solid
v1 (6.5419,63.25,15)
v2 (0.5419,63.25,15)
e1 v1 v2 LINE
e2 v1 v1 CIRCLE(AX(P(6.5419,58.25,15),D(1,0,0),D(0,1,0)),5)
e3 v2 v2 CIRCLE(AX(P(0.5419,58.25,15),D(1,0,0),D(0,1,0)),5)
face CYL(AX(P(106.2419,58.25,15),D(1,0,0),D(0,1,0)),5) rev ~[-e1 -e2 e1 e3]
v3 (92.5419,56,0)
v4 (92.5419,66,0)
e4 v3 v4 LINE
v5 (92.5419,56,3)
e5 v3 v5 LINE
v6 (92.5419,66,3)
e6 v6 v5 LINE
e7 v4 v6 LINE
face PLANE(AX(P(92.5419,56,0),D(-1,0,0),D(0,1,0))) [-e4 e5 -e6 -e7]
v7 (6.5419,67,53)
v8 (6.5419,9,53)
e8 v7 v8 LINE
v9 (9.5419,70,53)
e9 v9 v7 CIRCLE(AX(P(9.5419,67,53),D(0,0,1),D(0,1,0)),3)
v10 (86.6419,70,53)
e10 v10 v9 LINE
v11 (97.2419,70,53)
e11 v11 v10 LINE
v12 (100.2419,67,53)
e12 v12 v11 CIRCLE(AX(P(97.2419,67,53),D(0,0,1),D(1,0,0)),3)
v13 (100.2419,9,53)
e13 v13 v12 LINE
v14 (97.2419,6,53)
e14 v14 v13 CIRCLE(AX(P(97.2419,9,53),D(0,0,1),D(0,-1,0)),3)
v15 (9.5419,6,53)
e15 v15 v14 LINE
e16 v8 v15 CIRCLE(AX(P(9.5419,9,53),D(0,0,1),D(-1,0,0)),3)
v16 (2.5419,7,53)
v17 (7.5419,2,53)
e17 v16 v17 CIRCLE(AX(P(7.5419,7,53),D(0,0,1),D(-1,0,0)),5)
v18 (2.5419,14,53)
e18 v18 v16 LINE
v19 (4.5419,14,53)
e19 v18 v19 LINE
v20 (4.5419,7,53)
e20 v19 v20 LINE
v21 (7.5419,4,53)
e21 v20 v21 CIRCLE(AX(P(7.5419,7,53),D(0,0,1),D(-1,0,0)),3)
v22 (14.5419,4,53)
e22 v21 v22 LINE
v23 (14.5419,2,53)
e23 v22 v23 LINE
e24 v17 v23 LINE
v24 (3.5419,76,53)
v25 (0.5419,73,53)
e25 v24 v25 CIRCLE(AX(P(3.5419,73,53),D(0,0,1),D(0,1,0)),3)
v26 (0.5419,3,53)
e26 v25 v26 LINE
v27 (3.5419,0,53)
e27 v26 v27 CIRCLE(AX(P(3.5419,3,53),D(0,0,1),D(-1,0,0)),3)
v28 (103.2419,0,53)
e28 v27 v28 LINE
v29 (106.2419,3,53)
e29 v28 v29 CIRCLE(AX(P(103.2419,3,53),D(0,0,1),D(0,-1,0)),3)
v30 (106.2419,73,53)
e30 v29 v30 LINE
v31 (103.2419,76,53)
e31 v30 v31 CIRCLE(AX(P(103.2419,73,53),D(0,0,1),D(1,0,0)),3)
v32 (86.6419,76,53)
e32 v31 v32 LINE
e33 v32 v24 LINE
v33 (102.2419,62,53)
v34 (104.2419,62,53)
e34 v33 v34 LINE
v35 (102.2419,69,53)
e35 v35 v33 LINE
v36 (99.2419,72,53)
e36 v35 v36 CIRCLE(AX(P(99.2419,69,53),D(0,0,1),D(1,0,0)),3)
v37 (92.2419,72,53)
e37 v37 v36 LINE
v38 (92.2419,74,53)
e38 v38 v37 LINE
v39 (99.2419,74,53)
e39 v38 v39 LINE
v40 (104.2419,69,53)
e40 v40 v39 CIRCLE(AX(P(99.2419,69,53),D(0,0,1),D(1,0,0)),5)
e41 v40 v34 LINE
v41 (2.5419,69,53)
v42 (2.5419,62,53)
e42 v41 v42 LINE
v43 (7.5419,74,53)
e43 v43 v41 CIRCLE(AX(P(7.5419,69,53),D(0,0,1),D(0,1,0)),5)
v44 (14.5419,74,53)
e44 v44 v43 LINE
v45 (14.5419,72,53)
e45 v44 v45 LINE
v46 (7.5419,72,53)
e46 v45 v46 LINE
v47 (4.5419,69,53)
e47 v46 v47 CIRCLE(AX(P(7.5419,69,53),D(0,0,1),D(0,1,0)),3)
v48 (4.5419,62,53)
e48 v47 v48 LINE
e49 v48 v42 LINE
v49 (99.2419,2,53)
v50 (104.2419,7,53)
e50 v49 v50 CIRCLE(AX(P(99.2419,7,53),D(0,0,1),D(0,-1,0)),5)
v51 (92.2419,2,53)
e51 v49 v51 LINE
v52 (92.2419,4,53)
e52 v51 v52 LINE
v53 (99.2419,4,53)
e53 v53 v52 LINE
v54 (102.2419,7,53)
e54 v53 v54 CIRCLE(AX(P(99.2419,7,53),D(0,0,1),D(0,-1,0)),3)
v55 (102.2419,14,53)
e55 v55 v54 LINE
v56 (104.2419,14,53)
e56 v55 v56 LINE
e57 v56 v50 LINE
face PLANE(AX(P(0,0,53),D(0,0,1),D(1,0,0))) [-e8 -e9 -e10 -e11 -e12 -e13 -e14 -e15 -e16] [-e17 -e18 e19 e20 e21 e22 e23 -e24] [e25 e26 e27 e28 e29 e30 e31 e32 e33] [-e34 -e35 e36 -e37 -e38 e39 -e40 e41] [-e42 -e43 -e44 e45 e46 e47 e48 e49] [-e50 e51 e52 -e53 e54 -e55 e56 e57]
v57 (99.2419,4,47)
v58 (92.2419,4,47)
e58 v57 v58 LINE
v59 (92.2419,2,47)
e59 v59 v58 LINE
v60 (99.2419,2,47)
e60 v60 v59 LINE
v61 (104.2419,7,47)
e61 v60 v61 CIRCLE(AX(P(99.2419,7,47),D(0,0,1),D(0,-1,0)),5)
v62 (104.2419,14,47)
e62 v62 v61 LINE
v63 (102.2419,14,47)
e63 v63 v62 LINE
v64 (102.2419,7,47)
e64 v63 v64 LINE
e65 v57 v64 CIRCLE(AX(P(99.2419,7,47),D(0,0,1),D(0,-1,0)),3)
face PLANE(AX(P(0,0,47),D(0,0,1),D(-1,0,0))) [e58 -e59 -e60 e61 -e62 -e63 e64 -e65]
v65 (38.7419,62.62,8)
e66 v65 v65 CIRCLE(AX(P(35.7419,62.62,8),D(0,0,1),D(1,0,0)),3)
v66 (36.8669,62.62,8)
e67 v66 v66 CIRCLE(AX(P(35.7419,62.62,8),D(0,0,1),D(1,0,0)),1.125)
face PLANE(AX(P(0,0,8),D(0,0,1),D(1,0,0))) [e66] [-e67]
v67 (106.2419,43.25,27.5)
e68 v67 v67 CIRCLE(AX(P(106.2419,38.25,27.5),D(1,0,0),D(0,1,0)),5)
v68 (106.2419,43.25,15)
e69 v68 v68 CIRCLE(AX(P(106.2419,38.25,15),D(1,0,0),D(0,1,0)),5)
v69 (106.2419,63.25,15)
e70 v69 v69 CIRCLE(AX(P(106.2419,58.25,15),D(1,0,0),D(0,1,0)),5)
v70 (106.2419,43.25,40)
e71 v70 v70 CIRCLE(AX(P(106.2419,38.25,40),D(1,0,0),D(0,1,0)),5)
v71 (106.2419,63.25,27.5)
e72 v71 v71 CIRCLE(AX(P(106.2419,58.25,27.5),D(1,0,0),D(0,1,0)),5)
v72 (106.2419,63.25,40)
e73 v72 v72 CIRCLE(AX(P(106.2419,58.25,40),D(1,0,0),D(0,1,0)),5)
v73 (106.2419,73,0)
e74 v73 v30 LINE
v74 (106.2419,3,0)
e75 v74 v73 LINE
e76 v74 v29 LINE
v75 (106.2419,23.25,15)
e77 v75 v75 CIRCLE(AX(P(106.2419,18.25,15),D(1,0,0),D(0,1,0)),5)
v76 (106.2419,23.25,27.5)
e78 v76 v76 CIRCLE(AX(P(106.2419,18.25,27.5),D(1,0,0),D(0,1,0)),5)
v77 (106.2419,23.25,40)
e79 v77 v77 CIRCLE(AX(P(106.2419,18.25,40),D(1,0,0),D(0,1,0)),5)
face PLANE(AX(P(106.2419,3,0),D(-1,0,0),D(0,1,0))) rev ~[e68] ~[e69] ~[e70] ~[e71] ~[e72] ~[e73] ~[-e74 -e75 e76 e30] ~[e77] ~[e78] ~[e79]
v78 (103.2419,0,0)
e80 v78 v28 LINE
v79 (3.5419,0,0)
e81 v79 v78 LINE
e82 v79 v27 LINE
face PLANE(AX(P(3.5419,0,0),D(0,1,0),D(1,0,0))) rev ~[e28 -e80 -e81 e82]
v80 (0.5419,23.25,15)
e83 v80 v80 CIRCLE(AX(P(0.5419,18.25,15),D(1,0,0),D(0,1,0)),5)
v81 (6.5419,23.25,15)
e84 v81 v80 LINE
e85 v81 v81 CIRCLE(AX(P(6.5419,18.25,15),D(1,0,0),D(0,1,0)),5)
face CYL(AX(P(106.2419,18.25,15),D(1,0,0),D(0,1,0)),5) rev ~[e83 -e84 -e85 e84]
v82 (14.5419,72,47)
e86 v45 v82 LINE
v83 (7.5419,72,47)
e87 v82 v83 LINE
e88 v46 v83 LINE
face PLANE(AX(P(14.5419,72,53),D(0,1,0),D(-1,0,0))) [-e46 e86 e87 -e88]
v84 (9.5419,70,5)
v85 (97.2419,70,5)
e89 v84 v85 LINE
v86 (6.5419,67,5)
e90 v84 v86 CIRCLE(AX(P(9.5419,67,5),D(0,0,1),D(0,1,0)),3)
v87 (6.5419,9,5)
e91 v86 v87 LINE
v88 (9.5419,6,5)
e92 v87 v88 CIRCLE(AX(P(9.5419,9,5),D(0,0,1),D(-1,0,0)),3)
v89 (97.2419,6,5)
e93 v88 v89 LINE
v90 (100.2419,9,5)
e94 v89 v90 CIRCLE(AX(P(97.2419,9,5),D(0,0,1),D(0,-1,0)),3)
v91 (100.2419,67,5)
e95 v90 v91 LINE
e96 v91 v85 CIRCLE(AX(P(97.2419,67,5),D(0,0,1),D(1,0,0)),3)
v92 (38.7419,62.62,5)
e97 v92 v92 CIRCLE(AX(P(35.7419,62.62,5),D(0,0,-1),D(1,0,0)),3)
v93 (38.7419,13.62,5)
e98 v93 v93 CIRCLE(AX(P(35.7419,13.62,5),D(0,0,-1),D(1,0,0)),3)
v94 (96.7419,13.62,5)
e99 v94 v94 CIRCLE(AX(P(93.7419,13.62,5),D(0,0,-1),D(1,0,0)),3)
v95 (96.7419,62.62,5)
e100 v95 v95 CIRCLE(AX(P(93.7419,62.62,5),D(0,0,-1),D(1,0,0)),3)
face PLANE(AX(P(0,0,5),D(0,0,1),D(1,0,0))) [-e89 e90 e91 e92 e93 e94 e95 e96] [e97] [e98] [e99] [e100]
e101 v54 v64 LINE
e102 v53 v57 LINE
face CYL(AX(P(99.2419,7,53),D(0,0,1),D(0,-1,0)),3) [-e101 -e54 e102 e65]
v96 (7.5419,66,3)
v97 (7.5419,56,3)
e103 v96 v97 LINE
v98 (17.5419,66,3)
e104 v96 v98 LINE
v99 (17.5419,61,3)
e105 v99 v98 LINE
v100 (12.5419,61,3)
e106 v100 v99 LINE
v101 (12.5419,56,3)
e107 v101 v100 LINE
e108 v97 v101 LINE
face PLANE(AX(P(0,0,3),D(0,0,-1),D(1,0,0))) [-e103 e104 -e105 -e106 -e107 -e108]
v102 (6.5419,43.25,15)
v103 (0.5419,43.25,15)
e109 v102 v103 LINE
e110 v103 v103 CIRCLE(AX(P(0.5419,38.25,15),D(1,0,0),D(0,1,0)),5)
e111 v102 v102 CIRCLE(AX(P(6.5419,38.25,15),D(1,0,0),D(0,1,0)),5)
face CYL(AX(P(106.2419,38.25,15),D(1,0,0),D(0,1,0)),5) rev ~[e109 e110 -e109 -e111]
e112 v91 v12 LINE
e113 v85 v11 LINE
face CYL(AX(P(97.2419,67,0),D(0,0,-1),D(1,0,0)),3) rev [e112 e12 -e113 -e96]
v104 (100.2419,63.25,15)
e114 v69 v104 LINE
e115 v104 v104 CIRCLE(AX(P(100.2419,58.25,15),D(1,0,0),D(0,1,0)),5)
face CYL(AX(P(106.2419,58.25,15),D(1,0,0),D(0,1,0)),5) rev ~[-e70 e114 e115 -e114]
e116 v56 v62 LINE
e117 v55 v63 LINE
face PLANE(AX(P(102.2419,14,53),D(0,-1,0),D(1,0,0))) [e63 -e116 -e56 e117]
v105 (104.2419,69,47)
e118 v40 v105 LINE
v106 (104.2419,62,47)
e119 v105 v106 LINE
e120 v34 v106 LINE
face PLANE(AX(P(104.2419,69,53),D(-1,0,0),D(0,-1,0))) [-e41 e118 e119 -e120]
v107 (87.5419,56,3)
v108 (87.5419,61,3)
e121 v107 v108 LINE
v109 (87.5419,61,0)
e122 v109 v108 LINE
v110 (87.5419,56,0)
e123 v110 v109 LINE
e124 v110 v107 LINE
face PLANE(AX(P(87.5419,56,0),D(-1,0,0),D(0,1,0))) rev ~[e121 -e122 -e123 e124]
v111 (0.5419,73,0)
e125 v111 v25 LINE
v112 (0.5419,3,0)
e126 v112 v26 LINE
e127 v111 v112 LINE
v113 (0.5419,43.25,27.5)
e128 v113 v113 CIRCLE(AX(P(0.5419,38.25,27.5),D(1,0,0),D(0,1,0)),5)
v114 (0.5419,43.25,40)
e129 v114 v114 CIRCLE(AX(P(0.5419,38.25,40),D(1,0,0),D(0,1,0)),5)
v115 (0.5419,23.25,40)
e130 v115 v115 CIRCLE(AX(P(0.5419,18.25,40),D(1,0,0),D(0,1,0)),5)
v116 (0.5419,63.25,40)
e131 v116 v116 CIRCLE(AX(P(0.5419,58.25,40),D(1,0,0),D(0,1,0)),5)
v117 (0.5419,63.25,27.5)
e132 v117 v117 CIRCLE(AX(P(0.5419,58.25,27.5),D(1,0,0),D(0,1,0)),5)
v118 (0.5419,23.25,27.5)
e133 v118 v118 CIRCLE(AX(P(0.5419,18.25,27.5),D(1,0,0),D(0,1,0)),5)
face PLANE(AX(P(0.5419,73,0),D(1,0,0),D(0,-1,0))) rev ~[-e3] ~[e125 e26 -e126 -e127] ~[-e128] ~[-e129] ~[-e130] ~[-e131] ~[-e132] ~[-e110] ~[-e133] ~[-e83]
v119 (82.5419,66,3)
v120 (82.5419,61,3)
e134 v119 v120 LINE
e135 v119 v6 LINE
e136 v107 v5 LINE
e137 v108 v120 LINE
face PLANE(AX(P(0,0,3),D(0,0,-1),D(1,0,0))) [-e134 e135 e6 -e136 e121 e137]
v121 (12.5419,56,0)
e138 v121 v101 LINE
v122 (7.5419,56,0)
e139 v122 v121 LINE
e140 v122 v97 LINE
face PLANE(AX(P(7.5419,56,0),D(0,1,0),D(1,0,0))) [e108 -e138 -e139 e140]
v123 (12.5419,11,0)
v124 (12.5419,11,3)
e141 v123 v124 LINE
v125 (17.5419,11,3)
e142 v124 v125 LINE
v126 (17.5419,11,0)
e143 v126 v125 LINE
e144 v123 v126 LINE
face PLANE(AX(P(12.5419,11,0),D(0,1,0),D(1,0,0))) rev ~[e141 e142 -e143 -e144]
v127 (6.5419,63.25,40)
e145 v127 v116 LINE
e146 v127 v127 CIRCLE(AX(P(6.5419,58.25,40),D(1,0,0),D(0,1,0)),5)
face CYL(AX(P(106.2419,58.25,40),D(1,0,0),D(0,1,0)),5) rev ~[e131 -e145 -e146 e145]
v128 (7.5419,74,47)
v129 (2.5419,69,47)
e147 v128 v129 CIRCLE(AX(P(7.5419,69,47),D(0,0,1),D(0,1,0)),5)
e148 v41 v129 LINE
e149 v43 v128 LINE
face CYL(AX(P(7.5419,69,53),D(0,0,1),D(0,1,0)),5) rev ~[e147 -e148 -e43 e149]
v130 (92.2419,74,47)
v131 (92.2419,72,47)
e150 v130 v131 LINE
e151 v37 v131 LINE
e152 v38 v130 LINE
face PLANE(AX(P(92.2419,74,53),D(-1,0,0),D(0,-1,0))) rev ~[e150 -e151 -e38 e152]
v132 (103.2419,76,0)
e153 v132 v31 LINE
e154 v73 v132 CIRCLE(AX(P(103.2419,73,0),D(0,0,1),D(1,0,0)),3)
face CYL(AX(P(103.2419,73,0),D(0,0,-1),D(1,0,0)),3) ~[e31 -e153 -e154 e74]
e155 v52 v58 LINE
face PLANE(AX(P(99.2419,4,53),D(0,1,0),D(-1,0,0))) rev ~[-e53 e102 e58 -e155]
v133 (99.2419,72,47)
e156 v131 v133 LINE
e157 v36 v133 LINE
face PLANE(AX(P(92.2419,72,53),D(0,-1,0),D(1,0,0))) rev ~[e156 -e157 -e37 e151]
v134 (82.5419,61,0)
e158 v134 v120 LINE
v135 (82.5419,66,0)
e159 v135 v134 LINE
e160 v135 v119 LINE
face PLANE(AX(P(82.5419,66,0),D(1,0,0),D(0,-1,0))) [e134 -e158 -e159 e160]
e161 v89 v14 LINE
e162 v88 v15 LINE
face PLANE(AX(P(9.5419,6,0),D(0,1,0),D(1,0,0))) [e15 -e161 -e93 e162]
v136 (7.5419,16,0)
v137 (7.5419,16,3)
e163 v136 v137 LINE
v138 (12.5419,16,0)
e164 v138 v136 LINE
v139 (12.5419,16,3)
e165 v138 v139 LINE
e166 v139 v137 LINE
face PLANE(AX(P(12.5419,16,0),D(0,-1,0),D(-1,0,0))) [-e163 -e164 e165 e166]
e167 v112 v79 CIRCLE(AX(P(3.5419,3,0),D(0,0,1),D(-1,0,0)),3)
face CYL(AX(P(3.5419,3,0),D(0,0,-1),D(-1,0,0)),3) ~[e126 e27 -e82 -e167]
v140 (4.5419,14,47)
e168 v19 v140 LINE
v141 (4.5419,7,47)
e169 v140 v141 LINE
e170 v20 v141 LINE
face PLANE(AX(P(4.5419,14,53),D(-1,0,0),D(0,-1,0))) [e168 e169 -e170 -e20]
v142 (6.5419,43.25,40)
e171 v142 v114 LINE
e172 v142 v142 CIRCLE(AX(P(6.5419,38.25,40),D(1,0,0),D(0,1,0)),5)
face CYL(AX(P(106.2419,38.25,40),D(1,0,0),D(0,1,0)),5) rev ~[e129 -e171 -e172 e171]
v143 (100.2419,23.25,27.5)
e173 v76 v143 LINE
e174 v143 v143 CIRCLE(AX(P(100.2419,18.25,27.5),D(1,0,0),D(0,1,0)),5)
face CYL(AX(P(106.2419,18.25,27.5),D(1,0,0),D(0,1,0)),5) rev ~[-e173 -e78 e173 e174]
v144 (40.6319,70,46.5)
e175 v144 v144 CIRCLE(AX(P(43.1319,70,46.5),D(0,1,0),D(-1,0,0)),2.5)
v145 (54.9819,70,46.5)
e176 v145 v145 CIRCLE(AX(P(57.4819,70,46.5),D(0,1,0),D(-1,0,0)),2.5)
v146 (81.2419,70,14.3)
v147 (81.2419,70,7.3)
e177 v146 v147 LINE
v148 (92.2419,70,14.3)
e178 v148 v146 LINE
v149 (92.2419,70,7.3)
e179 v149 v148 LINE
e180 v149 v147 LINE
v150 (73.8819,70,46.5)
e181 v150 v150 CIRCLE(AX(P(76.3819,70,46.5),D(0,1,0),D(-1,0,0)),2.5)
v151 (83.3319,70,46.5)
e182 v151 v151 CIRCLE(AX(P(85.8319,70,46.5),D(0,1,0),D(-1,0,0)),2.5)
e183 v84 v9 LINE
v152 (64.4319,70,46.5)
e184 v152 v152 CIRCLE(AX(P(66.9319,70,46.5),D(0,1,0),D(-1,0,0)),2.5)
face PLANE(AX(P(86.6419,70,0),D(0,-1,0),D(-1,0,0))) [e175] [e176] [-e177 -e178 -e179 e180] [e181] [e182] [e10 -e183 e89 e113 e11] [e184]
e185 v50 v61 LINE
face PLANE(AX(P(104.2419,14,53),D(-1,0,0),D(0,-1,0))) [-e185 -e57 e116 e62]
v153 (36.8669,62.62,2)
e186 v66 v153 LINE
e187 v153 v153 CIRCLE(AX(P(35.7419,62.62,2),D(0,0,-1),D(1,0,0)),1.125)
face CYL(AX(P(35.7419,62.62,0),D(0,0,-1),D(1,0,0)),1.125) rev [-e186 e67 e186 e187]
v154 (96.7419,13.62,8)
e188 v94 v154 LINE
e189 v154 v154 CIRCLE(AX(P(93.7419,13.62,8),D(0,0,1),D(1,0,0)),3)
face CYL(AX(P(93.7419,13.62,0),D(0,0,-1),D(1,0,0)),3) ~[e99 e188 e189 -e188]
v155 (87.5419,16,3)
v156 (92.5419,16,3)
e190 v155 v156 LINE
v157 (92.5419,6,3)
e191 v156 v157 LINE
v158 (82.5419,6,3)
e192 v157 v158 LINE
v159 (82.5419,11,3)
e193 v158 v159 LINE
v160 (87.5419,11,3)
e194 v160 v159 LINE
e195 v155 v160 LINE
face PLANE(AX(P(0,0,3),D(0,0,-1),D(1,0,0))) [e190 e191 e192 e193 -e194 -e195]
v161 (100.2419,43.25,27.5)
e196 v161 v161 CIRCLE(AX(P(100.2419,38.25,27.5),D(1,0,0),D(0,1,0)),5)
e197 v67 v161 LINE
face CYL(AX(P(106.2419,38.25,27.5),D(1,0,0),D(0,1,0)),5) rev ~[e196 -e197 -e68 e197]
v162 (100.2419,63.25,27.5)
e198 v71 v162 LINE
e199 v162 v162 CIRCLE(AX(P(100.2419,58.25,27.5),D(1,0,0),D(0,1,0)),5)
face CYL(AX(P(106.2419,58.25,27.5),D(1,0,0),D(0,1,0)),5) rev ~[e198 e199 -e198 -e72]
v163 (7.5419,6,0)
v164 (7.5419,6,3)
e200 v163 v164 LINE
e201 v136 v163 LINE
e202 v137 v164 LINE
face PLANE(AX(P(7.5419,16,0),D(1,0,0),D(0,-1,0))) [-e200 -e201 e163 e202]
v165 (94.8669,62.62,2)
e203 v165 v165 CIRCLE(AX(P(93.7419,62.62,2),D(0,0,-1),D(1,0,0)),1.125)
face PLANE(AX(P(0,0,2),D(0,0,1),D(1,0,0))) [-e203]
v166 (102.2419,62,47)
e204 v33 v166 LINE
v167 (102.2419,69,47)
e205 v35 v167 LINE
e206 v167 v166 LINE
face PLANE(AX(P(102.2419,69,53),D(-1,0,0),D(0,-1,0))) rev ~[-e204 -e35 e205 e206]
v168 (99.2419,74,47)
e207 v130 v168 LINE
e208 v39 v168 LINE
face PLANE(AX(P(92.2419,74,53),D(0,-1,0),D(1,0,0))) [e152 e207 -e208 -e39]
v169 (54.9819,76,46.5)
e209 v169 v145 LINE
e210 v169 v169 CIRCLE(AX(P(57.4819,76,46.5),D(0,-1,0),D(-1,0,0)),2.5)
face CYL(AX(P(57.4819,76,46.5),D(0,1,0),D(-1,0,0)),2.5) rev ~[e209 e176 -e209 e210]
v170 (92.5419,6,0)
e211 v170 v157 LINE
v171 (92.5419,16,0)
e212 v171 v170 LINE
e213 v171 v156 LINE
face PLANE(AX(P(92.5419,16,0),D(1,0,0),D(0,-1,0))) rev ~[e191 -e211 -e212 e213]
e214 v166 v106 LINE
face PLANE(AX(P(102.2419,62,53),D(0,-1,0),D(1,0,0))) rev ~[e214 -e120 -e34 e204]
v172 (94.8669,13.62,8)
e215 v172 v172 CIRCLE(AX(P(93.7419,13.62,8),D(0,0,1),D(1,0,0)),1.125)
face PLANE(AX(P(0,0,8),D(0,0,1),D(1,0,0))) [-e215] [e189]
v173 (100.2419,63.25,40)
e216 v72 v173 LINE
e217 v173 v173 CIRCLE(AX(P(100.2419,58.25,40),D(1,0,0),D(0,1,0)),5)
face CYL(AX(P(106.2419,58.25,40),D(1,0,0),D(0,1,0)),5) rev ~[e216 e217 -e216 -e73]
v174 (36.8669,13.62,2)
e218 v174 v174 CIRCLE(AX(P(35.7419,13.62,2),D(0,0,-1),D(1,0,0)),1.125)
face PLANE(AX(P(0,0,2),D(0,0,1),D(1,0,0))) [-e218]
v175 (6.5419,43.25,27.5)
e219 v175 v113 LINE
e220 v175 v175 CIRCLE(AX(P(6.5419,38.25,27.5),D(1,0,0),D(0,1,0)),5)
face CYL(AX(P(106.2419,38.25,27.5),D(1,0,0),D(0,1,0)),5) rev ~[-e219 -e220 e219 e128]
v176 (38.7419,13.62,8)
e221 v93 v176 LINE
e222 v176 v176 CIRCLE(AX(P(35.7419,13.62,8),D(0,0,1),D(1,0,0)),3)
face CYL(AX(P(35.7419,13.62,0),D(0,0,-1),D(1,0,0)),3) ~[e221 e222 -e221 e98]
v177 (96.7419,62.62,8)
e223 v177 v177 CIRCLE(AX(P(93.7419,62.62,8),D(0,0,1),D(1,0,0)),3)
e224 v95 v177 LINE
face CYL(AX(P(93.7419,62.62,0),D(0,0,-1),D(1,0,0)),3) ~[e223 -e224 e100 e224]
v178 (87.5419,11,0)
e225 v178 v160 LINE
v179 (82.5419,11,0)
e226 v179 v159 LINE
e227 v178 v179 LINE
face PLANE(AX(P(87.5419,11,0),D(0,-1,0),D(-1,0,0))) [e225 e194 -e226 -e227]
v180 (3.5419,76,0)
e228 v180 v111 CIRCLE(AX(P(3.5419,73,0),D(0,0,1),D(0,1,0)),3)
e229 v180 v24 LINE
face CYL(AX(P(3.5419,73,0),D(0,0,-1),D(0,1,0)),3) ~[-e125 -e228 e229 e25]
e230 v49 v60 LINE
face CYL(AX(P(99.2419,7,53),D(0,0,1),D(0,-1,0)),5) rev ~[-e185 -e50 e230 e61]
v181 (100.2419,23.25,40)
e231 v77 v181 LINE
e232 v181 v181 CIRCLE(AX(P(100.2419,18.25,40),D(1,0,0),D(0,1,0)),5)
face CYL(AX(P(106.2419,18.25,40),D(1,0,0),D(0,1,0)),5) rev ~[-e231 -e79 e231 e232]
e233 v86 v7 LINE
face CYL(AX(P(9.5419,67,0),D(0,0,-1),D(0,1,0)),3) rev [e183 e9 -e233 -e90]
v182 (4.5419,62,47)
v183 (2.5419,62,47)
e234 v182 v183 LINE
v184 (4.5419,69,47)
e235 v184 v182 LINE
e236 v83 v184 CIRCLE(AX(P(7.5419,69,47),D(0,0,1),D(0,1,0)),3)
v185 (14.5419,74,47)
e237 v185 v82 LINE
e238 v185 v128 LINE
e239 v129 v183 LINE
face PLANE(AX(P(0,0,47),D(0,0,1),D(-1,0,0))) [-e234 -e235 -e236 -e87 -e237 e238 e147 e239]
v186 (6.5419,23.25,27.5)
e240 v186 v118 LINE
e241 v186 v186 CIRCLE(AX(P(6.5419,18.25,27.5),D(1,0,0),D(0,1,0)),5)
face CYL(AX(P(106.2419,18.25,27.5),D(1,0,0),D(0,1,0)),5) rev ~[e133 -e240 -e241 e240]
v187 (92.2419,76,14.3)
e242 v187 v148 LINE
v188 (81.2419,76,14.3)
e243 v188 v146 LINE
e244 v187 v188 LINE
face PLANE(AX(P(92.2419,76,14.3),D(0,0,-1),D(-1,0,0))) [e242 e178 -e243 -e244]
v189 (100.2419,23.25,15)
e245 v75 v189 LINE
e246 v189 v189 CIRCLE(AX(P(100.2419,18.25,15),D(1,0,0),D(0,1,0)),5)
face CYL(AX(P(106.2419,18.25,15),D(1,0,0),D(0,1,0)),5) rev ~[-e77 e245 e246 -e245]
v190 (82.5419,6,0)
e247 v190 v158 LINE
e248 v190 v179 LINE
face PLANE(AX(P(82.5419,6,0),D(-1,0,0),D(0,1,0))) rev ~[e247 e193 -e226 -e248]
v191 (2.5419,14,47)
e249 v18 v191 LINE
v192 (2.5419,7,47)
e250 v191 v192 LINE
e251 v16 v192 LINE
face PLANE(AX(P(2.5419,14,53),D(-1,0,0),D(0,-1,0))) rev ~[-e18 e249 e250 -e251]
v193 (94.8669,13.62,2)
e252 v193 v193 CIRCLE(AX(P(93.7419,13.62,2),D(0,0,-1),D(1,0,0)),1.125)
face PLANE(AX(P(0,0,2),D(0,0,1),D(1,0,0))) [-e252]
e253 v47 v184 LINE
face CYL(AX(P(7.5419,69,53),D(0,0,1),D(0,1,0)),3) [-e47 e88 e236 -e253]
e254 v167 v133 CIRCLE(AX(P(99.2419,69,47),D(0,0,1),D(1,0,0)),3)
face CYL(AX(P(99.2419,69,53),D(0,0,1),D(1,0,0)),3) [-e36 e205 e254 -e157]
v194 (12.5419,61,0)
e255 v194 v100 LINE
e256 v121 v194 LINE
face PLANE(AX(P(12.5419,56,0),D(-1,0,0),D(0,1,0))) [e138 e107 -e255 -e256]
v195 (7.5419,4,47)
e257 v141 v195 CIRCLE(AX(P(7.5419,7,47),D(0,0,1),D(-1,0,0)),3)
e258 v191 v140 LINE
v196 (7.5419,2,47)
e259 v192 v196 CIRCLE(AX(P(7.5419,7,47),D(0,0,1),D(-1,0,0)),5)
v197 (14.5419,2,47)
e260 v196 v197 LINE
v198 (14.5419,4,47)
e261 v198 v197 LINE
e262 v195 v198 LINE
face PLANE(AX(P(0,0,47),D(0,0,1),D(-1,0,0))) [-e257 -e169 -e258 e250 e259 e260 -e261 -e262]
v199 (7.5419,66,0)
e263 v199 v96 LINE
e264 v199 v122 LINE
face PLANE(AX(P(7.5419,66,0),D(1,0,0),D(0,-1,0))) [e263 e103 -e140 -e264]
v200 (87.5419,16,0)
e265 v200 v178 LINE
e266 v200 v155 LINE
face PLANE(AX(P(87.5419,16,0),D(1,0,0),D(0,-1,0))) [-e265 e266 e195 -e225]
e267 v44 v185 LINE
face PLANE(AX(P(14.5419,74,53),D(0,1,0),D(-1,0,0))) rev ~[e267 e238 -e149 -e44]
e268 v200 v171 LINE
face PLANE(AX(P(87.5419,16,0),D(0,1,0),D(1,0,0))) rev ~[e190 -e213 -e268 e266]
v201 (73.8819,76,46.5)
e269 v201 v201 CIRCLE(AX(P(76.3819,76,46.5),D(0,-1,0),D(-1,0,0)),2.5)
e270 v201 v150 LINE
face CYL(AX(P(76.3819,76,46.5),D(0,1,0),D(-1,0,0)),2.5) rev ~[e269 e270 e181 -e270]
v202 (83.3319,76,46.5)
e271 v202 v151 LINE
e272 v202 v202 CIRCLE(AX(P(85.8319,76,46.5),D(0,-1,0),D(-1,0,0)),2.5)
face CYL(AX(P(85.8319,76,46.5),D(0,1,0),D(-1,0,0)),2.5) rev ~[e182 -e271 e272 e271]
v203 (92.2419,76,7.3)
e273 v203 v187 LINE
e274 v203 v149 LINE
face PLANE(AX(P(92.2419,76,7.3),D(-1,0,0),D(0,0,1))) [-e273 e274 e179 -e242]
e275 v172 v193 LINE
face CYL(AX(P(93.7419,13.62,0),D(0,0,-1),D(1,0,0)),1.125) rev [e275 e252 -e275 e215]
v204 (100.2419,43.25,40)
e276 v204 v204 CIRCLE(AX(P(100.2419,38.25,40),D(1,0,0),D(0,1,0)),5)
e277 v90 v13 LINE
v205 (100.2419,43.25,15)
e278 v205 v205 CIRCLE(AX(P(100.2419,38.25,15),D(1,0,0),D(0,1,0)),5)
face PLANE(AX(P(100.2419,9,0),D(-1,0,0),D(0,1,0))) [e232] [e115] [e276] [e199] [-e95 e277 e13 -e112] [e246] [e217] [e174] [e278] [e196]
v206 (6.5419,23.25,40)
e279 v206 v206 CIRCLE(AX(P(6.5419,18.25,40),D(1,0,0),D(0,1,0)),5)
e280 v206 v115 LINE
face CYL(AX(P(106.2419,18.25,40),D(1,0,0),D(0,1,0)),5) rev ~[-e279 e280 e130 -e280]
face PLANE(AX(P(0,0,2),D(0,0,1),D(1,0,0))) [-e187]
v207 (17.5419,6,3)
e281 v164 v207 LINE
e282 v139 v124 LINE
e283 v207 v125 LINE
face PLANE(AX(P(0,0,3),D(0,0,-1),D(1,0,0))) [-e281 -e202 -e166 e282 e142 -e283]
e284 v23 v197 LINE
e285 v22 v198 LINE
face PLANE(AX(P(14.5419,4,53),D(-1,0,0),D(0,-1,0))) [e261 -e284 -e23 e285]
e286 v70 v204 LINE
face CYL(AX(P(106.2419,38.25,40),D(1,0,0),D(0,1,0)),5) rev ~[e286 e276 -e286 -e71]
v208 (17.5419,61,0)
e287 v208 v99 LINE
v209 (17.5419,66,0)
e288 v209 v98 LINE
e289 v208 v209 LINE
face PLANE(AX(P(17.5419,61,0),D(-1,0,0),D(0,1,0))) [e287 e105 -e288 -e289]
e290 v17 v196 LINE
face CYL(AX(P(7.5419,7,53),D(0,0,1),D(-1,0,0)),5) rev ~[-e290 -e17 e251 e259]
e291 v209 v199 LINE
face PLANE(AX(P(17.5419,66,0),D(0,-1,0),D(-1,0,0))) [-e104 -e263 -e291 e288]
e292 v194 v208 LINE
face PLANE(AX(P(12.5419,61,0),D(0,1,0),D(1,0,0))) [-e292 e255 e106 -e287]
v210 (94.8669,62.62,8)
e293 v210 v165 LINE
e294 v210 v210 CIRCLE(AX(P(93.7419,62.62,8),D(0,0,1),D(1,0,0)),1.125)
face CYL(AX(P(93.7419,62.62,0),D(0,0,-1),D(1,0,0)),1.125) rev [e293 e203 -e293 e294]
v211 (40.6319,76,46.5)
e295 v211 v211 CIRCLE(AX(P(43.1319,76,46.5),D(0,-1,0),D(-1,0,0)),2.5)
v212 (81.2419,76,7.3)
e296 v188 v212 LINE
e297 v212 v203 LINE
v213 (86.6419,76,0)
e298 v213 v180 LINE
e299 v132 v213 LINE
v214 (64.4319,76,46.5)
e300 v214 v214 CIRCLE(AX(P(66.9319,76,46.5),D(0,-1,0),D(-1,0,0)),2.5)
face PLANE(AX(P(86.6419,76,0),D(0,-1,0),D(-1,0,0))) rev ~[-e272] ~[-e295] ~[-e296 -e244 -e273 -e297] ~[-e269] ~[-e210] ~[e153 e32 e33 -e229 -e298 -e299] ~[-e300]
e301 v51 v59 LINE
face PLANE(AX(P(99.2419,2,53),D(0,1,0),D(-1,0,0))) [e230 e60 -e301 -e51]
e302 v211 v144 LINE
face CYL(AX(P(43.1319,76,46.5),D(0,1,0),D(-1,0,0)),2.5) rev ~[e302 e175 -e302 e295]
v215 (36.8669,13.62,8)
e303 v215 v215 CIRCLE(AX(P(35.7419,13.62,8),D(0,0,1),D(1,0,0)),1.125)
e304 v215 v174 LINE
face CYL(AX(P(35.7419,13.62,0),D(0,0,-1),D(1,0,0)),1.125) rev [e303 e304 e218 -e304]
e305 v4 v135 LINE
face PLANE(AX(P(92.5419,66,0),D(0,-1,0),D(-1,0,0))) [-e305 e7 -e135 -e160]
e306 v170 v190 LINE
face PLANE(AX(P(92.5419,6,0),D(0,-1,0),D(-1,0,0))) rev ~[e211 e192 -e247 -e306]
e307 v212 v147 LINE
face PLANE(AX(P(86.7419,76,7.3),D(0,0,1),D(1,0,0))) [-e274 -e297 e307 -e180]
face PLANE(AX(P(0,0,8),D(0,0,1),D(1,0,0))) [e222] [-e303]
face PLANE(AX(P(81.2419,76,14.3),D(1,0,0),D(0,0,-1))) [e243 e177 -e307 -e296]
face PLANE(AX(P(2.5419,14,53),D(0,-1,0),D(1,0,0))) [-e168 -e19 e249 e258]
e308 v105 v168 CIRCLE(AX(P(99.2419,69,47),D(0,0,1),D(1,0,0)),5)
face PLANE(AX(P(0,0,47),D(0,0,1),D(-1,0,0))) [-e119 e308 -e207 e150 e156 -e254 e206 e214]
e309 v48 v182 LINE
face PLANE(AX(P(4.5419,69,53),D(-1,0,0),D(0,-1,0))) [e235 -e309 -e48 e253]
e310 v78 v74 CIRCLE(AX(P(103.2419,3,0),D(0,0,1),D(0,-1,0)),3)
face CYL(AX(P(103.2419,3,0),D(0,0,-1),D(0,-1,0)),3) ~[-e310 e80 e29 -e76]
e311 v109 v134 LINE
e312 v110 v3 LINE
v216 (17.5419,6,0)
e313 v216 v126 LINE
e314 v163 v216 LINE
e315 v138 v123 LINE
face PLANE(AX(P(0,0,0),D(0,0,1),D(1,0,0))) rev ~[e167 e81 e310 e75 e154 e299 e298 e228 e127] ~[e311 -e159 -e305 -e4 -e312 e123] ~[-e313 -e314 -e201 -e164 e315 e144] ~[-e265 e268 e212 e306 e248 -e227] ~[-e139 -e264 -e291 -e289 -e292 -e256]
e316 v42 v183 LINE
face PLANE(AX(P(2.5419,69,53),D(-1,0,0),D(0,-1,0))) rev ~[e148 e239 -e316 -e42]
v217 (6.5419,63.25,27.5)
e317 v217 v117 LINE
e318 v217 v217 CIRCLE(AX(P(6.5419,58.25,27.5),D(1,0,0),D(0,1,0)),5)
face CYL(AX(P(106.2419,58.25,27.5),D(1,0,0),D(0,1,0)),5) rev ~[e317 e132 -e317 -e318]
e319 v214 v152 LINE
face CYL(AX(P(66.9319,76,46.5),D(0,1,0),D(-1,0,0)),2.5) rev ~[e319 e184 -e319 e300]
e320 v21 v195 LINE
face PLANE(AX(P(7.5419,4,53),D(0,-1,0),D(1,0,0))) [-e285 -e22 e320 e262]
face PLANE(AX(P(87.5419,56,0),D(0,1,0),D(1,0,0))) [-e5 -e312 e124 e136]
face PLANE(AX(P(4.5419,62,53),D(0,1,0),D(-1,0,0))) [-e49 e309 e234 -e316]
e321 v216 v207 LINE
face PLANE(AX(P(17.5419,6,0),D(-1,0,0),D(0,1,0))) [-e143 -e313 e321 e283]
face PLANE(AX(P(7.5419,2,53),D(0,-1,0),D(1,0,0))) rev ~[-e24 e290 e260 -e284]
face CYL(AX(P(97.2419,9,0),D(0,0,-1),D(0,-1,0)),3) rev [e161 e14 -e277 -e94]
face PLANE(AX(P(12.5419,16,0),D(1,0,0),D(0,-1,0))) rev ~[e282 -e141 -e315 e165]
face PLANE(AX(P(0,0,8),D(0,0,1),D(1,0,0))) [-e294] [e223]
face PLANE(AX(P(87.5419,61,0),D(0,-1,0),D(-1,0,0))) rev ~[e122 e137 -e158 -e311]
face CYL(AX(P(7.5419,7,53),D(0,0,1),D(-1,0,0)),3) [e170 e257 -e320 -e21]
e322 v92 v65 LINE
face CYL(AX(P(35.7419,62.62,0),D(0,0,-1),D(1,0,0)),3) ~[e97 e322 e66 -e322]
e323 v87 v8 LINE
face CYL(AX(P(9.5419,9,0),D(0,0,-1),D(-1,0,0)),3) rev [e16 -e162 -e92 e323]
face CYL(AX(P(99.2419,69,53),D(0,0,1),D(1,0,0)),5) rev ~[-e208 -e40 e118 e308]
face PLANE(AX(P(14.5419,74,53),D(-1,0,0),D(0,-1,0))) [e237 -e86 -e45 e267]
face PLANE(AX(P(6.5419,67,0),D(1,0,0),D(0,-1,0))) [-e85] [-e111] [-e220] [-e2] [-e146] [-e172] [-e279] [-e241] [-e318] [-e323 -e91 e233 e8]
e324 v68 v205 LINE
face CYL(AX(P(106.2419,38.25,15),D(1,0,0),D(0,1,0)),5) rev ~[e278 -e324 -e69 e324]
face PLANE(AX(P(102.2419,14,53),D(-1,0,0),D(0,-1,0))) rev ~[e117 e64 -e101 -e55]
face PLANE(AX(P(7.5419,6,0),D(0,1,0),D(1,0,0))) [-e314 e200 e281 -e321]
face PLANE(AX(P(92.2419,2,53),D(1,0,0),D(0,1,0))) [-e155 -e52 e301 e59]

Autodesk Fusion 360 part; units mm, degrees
sketch "Esquisse1" plane through (0, 0, 0) normal (0, 0, 1) x (1, 0, 0)
  line L0 (3.5419, 0) -> (103.2419, 0)
  line L1 (106.2419, 3) -> (106.2419, 73)
  line L2 (0.5419, 73) -> (0.5419, 3)
  line L3 (9.5419, 6) -> (97.2419, 6)
  line L4 (100.2419, 9) -> (100.2419, 67)
  line L5 (97.2419, 70) -> (9.5419, 70)
  line L6 (6.5419, 67) -> (6.5419, 9)
  arc A0 (100.2419, 67) -> (97.2419, 70) centre (97.2419, 67) ccw
  arc A1 (97.2419, 6) -> (100.2419, 9) centre (97.2419, 9) ccw
  arc A2 (6.5419, 9) -> (9.5419, 6) centre (9.5419, 9) ccw
  arc A3 (9.5419, 70) -> (6.5419, 67) centre (9.5419, 67) ccw
  circle A4 centre (93.7419, 62.62) radius 3
  circle A5 centre (93.7419, 62.62) radius 1.125
  circle A6 centre (93.7419, 13.62) radius 3
  circle A7 centre (93.7419, 13.62) radius 1.125
  circle A8 centre (35.7419, 13.62) radius 1.125
  circle A9 centre (35.7419, 13.62) radius 3
  circle A10 centre (35.7419, 62.62) radius 3
  circle A11 centre (35.7419, 62.62) radius 1.125
  line L7 (103.2419, 76) -> (3.5419, 76)
  arc A12 (106.2419, 73) -> (103.2419, 76) centre (103.2419, 73) ccw
  arc A13 (3.5419, 76) -> (0.5419, 73) centre (3.5419, 73) ccw
  arc A14 (0.5419, 3) -> (3.5419, 0) centre (3.5419, 3) ccw
  arc A15 (103.2419, 0) -> (106.2419, 3) centre (103.2419, 3) ccw
  line L8 (86.6419, 76) -> (86.6419, 70)
  point P0 (6.5419, 6)
  point P1 (100.2419, 6)
  point P2 (6.5419, 70)
  dimension "d5" = 6
  dimension "d6" = 6
  dimension "d7" = 3
  dimension "d8" = 3
  dimension "d9" = 3
  dimension "d10" = 3
  dimension "d34" = 6
  dimension "d37" = 2.25
  dimension "d38" = 6
  dimension "d39" = 2.25
  dimension "d40" = 6
  dimension "d41" = 2.25
  dimension "d42" = 58
  dimension "d47" = 6
  dimension "d48" = 2.25
  dimension "d52" = 6
  dimension "d77" = 64
  dimension "d80" = 6
  dimension "d85" = 7.62
  dimension "d86" = 6.5
  dimension "d88" = 7.62
  dimension "d89" = 58
  dimension "d90" = 49
  dimension "d93" = 6.5
  dimension "d94" = 49
  dimension "d101" = 3
  dimension "d102" = 3
  dimension "d103" = 3
  dimension "d104" = 3
  dimension "d105" = 7.1
  dimension "d178" = 76
  dimension "d179" = 105.7
  dimension "d223" = 29.2
  dimension "d260" = 7.38
  dimension "d263" = 13.38
extrude "Extrusion1" add sketch "Esquisse1" along normal blind 5 contours L3 L4 L5 L6 A0 A1 A2 A3 | A4 | A5 | A6 | A7 | A8 | A9 | A10 | A11
extrude "Extrusion2" add sketch "Esquisse1" along normal blind 8 contours A4 | A6 | A9 | A10
extrude "Extrusion3" add sketch "Esquisse1" along normal blind 53 contours L0 L1 L2 L7 A12 A13 A14 A15
sketch "Esquisse4" plane through (0, 76, 0) normal (0, 1, 0) x (-1, 0, 0)
  line L0 (-103.2419, 0) -> (-3.5419, 0)
  line L1 (-3.5419, 0) -> (-3.5419, 53)
  line L2 (-3.5419, 53) -> (-103.2419, 53)
  line L3 (-103.2419, 53) -> (-103.2419, 0)
  line L4 (-86.7419, 0) -> (-86.7419, 10.8)
  line L5 (-81.2419, 7.3) -> (-92.2419, 7.3)
  line L6 (-92.2419, 7.3) -> (-92.2419, 14.3)
  line L7 (-92.2419, 14.3) -> (-81.2419, 14.3)
  line L8 (-81.2419, 14.3) -> (-81.2419, 7.3)
  line L9 (-81.2419, 7.3) -> (-92.2419, 14.3) construction
  line L10 (-92.2419, 7.3) -> (-81.2419, 14.3) construction
  line L11 (-91.1319, 49) -> (-39.1319, 49)
  line L12 (-39.1319, 49) -> (-39.1319, 44)
  line L13 (-39.1319, 44) -> (-91.1319, 44)
  line L14 (-91.1319, 44) -> (-91.1319, 49)
  line L15 (-106.2419, 0) -> (-106.2419, 53)
  line L16 (-83.3319, 44) -> (-88.3319, 44)
  line L17 (-88.3319, 44) -> (-88.3319, 49)
  line L18 (-88.3319, 49) -> (-83.3319, 49)
  line L19 (-83.3319, 49) -> (-83.3319, 44)
  line L20 (-83.3319, 44) -> (-88.3319, 49) construction
  line L21 (-88.3319, 44) -> (-83.3319, 49) construction
  line L22 (-73.8819, 44) -> (-78.8819, 44)
  line L23 (-78.8819, 44) -> (-78.8819, 49)
  line L24 (-78.8819, 49) -> (-73.8819, 49)
  line L25 (-73.8819, 49) -> (-73.8819, 44)
  line L26 (-73.8819, 44) -> (-78.8819, 49) construction
  line L27 (-78.8819, 44) -> (-73.8819, 49) construction
  line L28 (-64.4319, 44) -> (-69.4319, 44)
  line L29 (-69.4319, 44) -> (-69.4319, 49)
  line L30 (-69.4319, 49) -> (-64.4319, 49)
  line L31 (-64.4319, 49) -> (-64.4319, 44)
  line L32 (-64.4319, 44) -> (-69.4319, 49) construction
  line L33 (-69.4319, 44) -> (-64.4319, 49) construction
  line L34 (-54.9819, 44) -> (-59.9819, 44)
  line L35 (-59.9819, 44) -> (-59.9819, 49)
  line L36 (-59.9819, 49) -> (-54.9819, 49)
  line L37 (-54.9819, 49) -> (-54.9819, 44)
  line L38 (-54.9819, 44) -> (-59.9819, 49) construction
  line L39 (-59.9819, 44) -> (-54.9819, 49) construction
  line L40 (-40.6319, 44) -> (-45.6319, 44)
  line L41 (-45.6319, 44) -> (-45.6319, 49)
  line L42 (-45.6319, 49) -> (-40.6319, 49)
  line L43 (-40.6319, 49) -> (-40.6319, 44)
  line L44 (-40.6319, 44) -> (-45.6319, 49) construction
  line L45 (-45.6319, 44) -> (-40.6319, 49) construction
  circle A0 centre (-85.8319, 46.5) radius 2.5
  circle A1 centre (-76.3819, 46.5) radius 2.5
  circle A2 centre (-66.9319, 46.5) radius 2.5
  circle A3 centre (-57.4819, 46.5) radius 2.5
  circle A4 centre (-43.1319, 46.5) radius 2.5
  point P0 (-86.7419, 10.8)
  point P1 (-85.8319, 46.5)
  point P2 (-76.3819, 46.5)
  point P3 (-66.9319, 46.5)
  point P4 (-57.4819, 46.5)
  point P5 (-43.1319, 46.5)
  dimension "d106" = 16.5
  dimension "d107" = 10.8
  dimension "d108" = 11
  dimension "d109" = 7
  dimension "d188" = 5
  dimension "d189" = 15.11
  dimension "d190" = 52
  dimension "d225" = 5
  dimension "d226" = 5
  dimension "d227" = 5
  dimension "d228" = 5
  dimension "d229" = 5.3
  dimension "d230" = 14.75
  dimension "d231" = 5
  dimension "d232" = 5
  dimension "d233" = 5
  dimension "d234" = 5
  dimension "d235" = 24.2
  dimension "d236" = 33.65
  dimension "d237" = 5
  dimension "d238" = 5
  dimension "d239" = 48
  dimension "d264" = 4
  dimension "d265" = 4.45
  dimension "d266" = 4.45
  dimension "d267" = 4.45
extrude "Extrusion8" cut sketch "Esquisse4" against normal blind 6 contours L5 L6 L7 L8
sketch "Esquisse5" plane through (0, 0, 0) normal (0, 0, -1) x (1, 0, 0)
  arc A0 (106.2419, -3) -> (103.2419, 0) centre (103.2419, -3) ccw
  line L0 (103.2419, 0) -> (3.5419, 0)
  arc A1 (3.5419, 0) -> (0.5419, -3) centre (3.5419, -3) ccw
  line L1 (0.5419, -3) -> (0.5419, -73)
  arc A2 (0.5419, -73) -> (3.5419, -76) centre (3.5419, -73) ccw
  line L2 (3.5419, -76) -> (103.2419, -76)
  arc A3 (103.2419, -76) -> (106.2419, -73) centre (103.2419, -73) ccw
  line L3 (106.2419, -73) -> (106.2419, -3)
  line L4 (7.5419, -6) -> (17.5419, -6)
  line L5 (17.5419, -6) -> (17.5419, -16)
  line L6 (17.5419, -16) -> (7.5419, -16)
  line L7 (7.5419, -16) -> (7.5419, -6)
  line L8 (17.5419, -16) -> (12.5419, -16)
  line L9 (12.5419, -16) -> (12.5419, -11)
  line L10 (12.5419, -11) -> (17.5419, -11)
  line L11 (17.5419, -11) -> (17.5419, -16)
  line L12 (7.5419, -56) -> (17.5419, -56)
  line L13 (17.5419, -56) -> (17.5419, -66)
  line L14 (17.5419, -66) -> (7.5419, -66)
  line L15 (7.5419, -66) -> (7.5419, -56)
  line L16 (17.5419, -66) -> (12.5419, -66)
  line L17 (17.5419, -60) -> (17.5419, -66)
  line L18 (92.5419, -6) -> (82.5419, -6)
  line L19 (82.5419, -6) -> (82.5419, -16)
  line L20 (82.5419, -16) -> (92.5419, -16)
  line L21 (92.5419, -16) -> (92.5419, -6)
  line L22 (82.5419, -16) -> (87.5419, -16)
  line L23 (87.5419, -16) -> (87.5419, -11)
  line L24 (87.5419, -11) -> (82.5419, -11)
  line L25 (82.5419, -11) -> (82.5419, -16)
  line L26 (82.5419, -56) -> (92.5419, -56)
  line L27 (92.5419, -56) -> (92.5419, -66)
  line L28 (92.5419, -66) -> (82.5419, -66)
  line L29 (82.5419, -66) -> (82.5419, -56)
  line L30 (92.5419, -66) -> (87.5419, -66)
  line L31 (92.5419, -61) -> (92.5419, -66)
  line L32 (17.5419, -56) -> (12.5419, -56)
  line L33 (12.5419, -56) -> (12.5419, -61)
  line L34 (12.5419, -61) -> (17.5419, -61)
  line L35 (17.5419, -61) -> (17.5419, -56)
  line L36 (82.5419, -56) -> (87.5419, -56)
  line L37 (87.5419, -56) -> (87.5419, -61)
  line L38 (87.5419, -61) -> (82.5419, -61)
  line L39 (82.5419, -61) -> (82.5419, -56)
  dimension "d115" = 6
  dimension "d116" = 7
  dimension "d125" = 40
  dimension "d126" = 7
  dimension "d127" = 10
  dimension "d128" = 10
  dimension "d129" = 5
  dimension "d130" = 5
  dimension "d132" = 85
  dimension "d133" = 6
  dimension "d134" = 10
  dimension "d135" = 10
  dimension "d137" = 5
  dimension "d138" = 10
  dimension "d139" = 10
  dimension "d140" = 5
  dimension "d141" = 5
  dimension "d142" = 40
  dimension "d143" = 10
  dimension "d144" = 5
  dimension "d145" = 10
  dimension "d146" = 85
  dimension "d147" = 5
  dimension "d148" = 5
  dimension "d149" = 5
  dimension "d150" = 5
extrude "Extrusion9" cut sketch "Esquisse5" against normal blind 3 contours L4 L5 L6 L7 L9 L10 | L12 L13 L14 L15 L16 L17 L33 L34 | L18 L19 L20 L21 L23 L24 | L26 L27 L28 L29 L30 L31 L37 L38
sketch "Esquisse6" plane through (0, 0, 53) normal (0, 0, 1) x (-1, 0, 0)
  arc A0 (-9.5419, -70) -> (-6.5419, -67) centre (-9.5419, -67) ccw
  line L0 (-9.5419, -70) -> (-97.2419, -70)
  arc A1 (-100.2419, -67) -> (-97.2419, -70) centre (-97.2419, -67) ccw
  line L1 (-100.2419, -67) -> (-100.2419, -9)
  arc A2 (-97.2419, -6) -> (-100.2419, -9) centre (-97.2419, -9) ccw
  line L2 (-97.2419, -6) -> (-9.5419, -6)
  arc A3 (-6.5419, -9) -> (-9.5419, -6) centre (-9.5419, -9) ccw
  line L3 (-6.5419, -9) -> (-6.5419, -67)
  arc A4 (-103.2419, 0) -> (-106.2419, -3) centre (-103.2419, -3) ccw
  line L4 (-106.2419, -3) -> (-106.2419, -73)
  arc A5 (-106.2419, -73) -> (-103.2419, -76) centre (-103.2419, -73) ccw
  line L5 (-103.2419, -76) -> (-3.5419, -76)
  arc A6 (-3.5419, -76) -> (-0.5419, -73) centre (-3.5419, -73) ccw
  line L6 (-0.5419, -73) -> (-0.5419, -3)
  arc A7 (-0.5419, -3) -> (-3.5419, 0) centre (-3.5419, -3) ccw
  line L7 (-3.5419, 0) -> (-103.2419, 0)
  line L8 (-103.2419, -76) -> (-3.5419, -76)
  line L9 (-0.5419, -73) -> (-0.5419, -3)
  line L10 (-106.2419, -3) -> (-106.2419, -73)
  line L11 (-3.5419, 0) -> (-103.2419, 0)
  line L12 (-14.5419, -74) -> (-7.5419, -74)
  line L13 (-2.5419, -69) -> (-2.5419, -62)
  arc A8 (-7.5419, -74) -> (-2.5419, -69) centre (-7.5419, -69) ccw
  line L14 (-14.5419, -72) -> (-7.5419, -72)
  arc A9 (-7.5419, -72) -> (-4.5419, -69) centre (-7.5419, -69) ccw
  line L15 (-4.5419, -69) -> (-4.5419, -62)
  line L16 (-14.5419, -74) -> (-14.5419, -72)
  line L17 (-4.5419, -62) -> (-2.5419, -62)
  line L18 (-92.2419, -74) -> (-99.2419, -74)
  line L19 (-104.2419, -69) -> (-104.2419, -62)
  arc A10 (-104.2419, -69) -> (-99.2419, -74) centre (-99.2419, -69) ccw
  line L20 (-92.2419, -72) -> (-99.2419, -72)
  arc A11 (-102.2419, -69) -> (-99.2419, -72) centre (-99.2419, -69) ccw
  line L21 (-102.2419, -69) -> (-102.2419, -62)
  line L22 (-92.2419, -74) -> (-92.2419, -72)
  line L23 (-102.2419, -62) -> (-104.2419, -62)
  line L24 (-104.2419, -14) -> (-104.2419, -7)
  line L25 (-99.2419, -2) -> (-92.2419, -2)
  arc A12 (-99.2419, -2) -> (-104.2419, -7) centre (-99.2419, -7) ccw
  line L26 (-92.2419, -2) -> (-92.2419, -4)
  line L27 (-102.2419, -14) -> (-104.2419, -14)
  line L28 (-102.2419, -14) -> (-102.2419, -7)
  arc A13 (-99.2419, -4) -> (-102.2419, -7) centre (-99.2419, -7) ccw
  line L29 (-99.2419, -4) -> (-92.2419, -4)
  line L30 (-2.5419, -14) -> (-2.5419, -7)
  line L31 (-7.5419, -2) -> (-14.5419, -2)
  arc A14 (-2.5419, -7) -> (-7.5419, -2) centre (-7.5419, -7) ccw
  line L32 (-4.5419, -14) -> (-4.5419, -7)
  arc A15 (-4.5419, -7) -> (-7.5419, -4) centre (-7.5419, -7) ccw
  line L33 (-7.5419, -4) -> (-14.5419, -4)
  line L34 (-2.5419, -14) -> (-4.5419, -14)
  line L35 (-14.5419, -4) -> (-14.5419, -2)
  dimension "d277" = 5
  dimension "d278" = -2
  dimension "d279" = 2
  dimension "d280" = 2
  dimension "d281" = 12
  dimension "d282" = 12
  dimension "d283" = 5
  dimension "d284" = -2
  dimension "d285" = 12
  dimension "d286" = 12
  dimension "d287" = 5
  dimension "d288" = 2
  dimension "d289" = 2
  dimension "d290" = 2
  dimension "d291" = 2
  dimension "d292" = 2
  dimension "d293" = 12
  dimension "d294" = 12
  dimension "d295" = 2
  dimension "d296" = 2
  dimension "d297" = 5
  dimension "d298" = -2
  dimension "d299" = 12
  dimension "d300" = 12
extrude "Extrusion18" cut sketch "Esquisse6" against normal blind 6 contours L12 L13 A8 L14 A9 L15 L16 L17 | L18 L19 A10 L20 A11 L21 L22 L23 | L24 L25 A12 L26 L27 L28 A13 L29 | L30 L31 A14 L32 A15 L33 L34 L35
sketch "Esquisse7" plane through (0, 0, 0) normal (0, -1, 0) x (1, 0, 0)
  line L0 (3.5419, 0) -> (103.2419, 0)
  line L1 (103.2419, 0) -> (103.2419, 53)
  line L2 (103.2419, 53) -> (3.5419, 53)
  line L3 (3.5419, 53) -> (3.5419, 0)
  line L4 (35.4919, 44.63) -> (21.1919, 44.63)
  line L5 (21.1919, 44.63) -> (21.1919, 41.93)
  line L6 (21.1919, 41.93) -> (35.4919, 41.93)
  line L7 (35.4919, 41.93) -> (35.4919, 44.63)
  line L8 (35.4919, 44.63) -> (21.1919, 41.93) construction
  line L9 (21.1919, 44.63) -> (35.4919, 41.93) construction
  line L10 (106.2419, 0) -> (106.2419, 53)
  line L11 (3.5419, 0) -> (103.2419, 0)
  point P0 (28.3419, 43.28)
  dimension "d183" = 14.3
  dimension "d184" = 2.7
  dimension "d253" = 77.9
  dimension "d254" = 43.28
extrude "Extrusion13" cut 4 faces at (93.6585, 62.6769, 5) (93.7699, 14.4164, 5) (35.4196, 13.2423, 5) (35.0663, 62.8029, 5) along direction (0, 0, -1) blind 3
sketch "Esquisse8" plane through (106.2419, 0, 0) normal (1, 0, 0) x (0, 1, 0)
  line L0 (3, 0) -> (73, 0)
  line L1 (73, 0) -> (73, 53)
  line L2 (73, 53) -> (3, 53)
  line L3 (3, 53) -> (3, 0)
  circle A0 centre (18.25, 40) radius 5
  circle A1 centre (38.25, 40) radius 5
  circle A2 centre (58.25, 40) radius 5
  circle A3 centre (18.25, 27.5) radius 5
  circle A4 centre (38.25, 27.5) radius 5
  circle A5 centre (58.25, 27.5) radius 5
  circle A6 centre (18.25, 15) radius 5
  circle A7 centre (38.25, 15) radius 5
  circle A8 centre (58.25, 15) radius 5
  line L4 (0, 0) -> (0, 53)
  line L5 (76, 0) -> (76, 53)
  line L6 (3, 53) -> (73, 53)
  line L7 (3, 0) -> (73, 0)
  dimension "d242" = 10
  dimension "d245" = 40
  dimension "d246" = -25
  dimension "d247" = 18.25
  dimension "d248" = 17.75
  dimension "d249" = 13
  dimension "d250" = 15
extrude "Extrusion16" cut sketch "Esquisse8" against normal blind 150 contours A0 | A1 | A2 | A3 | A4 | A5 | A6 | A7 | A8
extrude "Extrusion17" cut sketch "Esquisse4" against normal blind 6 contours A0 | A1 | A2 | A3 | A4
equation "d37 = d48"
equation "d39 = d48"
equation "d41 = d48"
equation "d85 = d88"
equation "d88 = 3.5 mm + 4.12 mm"
equation "d107 = 8 mm + 2.8 mm"
equation "d146 = d132"
equation "d189 = 9.11 mm + 6 mm"
equation "d223 = 23.5 mm + 5.7 mm"
equation "d279 = d280"
equation "d282 = d281"
equation "d284 = d278"
equation "d285 = d281"
equation "d286 = d285"
